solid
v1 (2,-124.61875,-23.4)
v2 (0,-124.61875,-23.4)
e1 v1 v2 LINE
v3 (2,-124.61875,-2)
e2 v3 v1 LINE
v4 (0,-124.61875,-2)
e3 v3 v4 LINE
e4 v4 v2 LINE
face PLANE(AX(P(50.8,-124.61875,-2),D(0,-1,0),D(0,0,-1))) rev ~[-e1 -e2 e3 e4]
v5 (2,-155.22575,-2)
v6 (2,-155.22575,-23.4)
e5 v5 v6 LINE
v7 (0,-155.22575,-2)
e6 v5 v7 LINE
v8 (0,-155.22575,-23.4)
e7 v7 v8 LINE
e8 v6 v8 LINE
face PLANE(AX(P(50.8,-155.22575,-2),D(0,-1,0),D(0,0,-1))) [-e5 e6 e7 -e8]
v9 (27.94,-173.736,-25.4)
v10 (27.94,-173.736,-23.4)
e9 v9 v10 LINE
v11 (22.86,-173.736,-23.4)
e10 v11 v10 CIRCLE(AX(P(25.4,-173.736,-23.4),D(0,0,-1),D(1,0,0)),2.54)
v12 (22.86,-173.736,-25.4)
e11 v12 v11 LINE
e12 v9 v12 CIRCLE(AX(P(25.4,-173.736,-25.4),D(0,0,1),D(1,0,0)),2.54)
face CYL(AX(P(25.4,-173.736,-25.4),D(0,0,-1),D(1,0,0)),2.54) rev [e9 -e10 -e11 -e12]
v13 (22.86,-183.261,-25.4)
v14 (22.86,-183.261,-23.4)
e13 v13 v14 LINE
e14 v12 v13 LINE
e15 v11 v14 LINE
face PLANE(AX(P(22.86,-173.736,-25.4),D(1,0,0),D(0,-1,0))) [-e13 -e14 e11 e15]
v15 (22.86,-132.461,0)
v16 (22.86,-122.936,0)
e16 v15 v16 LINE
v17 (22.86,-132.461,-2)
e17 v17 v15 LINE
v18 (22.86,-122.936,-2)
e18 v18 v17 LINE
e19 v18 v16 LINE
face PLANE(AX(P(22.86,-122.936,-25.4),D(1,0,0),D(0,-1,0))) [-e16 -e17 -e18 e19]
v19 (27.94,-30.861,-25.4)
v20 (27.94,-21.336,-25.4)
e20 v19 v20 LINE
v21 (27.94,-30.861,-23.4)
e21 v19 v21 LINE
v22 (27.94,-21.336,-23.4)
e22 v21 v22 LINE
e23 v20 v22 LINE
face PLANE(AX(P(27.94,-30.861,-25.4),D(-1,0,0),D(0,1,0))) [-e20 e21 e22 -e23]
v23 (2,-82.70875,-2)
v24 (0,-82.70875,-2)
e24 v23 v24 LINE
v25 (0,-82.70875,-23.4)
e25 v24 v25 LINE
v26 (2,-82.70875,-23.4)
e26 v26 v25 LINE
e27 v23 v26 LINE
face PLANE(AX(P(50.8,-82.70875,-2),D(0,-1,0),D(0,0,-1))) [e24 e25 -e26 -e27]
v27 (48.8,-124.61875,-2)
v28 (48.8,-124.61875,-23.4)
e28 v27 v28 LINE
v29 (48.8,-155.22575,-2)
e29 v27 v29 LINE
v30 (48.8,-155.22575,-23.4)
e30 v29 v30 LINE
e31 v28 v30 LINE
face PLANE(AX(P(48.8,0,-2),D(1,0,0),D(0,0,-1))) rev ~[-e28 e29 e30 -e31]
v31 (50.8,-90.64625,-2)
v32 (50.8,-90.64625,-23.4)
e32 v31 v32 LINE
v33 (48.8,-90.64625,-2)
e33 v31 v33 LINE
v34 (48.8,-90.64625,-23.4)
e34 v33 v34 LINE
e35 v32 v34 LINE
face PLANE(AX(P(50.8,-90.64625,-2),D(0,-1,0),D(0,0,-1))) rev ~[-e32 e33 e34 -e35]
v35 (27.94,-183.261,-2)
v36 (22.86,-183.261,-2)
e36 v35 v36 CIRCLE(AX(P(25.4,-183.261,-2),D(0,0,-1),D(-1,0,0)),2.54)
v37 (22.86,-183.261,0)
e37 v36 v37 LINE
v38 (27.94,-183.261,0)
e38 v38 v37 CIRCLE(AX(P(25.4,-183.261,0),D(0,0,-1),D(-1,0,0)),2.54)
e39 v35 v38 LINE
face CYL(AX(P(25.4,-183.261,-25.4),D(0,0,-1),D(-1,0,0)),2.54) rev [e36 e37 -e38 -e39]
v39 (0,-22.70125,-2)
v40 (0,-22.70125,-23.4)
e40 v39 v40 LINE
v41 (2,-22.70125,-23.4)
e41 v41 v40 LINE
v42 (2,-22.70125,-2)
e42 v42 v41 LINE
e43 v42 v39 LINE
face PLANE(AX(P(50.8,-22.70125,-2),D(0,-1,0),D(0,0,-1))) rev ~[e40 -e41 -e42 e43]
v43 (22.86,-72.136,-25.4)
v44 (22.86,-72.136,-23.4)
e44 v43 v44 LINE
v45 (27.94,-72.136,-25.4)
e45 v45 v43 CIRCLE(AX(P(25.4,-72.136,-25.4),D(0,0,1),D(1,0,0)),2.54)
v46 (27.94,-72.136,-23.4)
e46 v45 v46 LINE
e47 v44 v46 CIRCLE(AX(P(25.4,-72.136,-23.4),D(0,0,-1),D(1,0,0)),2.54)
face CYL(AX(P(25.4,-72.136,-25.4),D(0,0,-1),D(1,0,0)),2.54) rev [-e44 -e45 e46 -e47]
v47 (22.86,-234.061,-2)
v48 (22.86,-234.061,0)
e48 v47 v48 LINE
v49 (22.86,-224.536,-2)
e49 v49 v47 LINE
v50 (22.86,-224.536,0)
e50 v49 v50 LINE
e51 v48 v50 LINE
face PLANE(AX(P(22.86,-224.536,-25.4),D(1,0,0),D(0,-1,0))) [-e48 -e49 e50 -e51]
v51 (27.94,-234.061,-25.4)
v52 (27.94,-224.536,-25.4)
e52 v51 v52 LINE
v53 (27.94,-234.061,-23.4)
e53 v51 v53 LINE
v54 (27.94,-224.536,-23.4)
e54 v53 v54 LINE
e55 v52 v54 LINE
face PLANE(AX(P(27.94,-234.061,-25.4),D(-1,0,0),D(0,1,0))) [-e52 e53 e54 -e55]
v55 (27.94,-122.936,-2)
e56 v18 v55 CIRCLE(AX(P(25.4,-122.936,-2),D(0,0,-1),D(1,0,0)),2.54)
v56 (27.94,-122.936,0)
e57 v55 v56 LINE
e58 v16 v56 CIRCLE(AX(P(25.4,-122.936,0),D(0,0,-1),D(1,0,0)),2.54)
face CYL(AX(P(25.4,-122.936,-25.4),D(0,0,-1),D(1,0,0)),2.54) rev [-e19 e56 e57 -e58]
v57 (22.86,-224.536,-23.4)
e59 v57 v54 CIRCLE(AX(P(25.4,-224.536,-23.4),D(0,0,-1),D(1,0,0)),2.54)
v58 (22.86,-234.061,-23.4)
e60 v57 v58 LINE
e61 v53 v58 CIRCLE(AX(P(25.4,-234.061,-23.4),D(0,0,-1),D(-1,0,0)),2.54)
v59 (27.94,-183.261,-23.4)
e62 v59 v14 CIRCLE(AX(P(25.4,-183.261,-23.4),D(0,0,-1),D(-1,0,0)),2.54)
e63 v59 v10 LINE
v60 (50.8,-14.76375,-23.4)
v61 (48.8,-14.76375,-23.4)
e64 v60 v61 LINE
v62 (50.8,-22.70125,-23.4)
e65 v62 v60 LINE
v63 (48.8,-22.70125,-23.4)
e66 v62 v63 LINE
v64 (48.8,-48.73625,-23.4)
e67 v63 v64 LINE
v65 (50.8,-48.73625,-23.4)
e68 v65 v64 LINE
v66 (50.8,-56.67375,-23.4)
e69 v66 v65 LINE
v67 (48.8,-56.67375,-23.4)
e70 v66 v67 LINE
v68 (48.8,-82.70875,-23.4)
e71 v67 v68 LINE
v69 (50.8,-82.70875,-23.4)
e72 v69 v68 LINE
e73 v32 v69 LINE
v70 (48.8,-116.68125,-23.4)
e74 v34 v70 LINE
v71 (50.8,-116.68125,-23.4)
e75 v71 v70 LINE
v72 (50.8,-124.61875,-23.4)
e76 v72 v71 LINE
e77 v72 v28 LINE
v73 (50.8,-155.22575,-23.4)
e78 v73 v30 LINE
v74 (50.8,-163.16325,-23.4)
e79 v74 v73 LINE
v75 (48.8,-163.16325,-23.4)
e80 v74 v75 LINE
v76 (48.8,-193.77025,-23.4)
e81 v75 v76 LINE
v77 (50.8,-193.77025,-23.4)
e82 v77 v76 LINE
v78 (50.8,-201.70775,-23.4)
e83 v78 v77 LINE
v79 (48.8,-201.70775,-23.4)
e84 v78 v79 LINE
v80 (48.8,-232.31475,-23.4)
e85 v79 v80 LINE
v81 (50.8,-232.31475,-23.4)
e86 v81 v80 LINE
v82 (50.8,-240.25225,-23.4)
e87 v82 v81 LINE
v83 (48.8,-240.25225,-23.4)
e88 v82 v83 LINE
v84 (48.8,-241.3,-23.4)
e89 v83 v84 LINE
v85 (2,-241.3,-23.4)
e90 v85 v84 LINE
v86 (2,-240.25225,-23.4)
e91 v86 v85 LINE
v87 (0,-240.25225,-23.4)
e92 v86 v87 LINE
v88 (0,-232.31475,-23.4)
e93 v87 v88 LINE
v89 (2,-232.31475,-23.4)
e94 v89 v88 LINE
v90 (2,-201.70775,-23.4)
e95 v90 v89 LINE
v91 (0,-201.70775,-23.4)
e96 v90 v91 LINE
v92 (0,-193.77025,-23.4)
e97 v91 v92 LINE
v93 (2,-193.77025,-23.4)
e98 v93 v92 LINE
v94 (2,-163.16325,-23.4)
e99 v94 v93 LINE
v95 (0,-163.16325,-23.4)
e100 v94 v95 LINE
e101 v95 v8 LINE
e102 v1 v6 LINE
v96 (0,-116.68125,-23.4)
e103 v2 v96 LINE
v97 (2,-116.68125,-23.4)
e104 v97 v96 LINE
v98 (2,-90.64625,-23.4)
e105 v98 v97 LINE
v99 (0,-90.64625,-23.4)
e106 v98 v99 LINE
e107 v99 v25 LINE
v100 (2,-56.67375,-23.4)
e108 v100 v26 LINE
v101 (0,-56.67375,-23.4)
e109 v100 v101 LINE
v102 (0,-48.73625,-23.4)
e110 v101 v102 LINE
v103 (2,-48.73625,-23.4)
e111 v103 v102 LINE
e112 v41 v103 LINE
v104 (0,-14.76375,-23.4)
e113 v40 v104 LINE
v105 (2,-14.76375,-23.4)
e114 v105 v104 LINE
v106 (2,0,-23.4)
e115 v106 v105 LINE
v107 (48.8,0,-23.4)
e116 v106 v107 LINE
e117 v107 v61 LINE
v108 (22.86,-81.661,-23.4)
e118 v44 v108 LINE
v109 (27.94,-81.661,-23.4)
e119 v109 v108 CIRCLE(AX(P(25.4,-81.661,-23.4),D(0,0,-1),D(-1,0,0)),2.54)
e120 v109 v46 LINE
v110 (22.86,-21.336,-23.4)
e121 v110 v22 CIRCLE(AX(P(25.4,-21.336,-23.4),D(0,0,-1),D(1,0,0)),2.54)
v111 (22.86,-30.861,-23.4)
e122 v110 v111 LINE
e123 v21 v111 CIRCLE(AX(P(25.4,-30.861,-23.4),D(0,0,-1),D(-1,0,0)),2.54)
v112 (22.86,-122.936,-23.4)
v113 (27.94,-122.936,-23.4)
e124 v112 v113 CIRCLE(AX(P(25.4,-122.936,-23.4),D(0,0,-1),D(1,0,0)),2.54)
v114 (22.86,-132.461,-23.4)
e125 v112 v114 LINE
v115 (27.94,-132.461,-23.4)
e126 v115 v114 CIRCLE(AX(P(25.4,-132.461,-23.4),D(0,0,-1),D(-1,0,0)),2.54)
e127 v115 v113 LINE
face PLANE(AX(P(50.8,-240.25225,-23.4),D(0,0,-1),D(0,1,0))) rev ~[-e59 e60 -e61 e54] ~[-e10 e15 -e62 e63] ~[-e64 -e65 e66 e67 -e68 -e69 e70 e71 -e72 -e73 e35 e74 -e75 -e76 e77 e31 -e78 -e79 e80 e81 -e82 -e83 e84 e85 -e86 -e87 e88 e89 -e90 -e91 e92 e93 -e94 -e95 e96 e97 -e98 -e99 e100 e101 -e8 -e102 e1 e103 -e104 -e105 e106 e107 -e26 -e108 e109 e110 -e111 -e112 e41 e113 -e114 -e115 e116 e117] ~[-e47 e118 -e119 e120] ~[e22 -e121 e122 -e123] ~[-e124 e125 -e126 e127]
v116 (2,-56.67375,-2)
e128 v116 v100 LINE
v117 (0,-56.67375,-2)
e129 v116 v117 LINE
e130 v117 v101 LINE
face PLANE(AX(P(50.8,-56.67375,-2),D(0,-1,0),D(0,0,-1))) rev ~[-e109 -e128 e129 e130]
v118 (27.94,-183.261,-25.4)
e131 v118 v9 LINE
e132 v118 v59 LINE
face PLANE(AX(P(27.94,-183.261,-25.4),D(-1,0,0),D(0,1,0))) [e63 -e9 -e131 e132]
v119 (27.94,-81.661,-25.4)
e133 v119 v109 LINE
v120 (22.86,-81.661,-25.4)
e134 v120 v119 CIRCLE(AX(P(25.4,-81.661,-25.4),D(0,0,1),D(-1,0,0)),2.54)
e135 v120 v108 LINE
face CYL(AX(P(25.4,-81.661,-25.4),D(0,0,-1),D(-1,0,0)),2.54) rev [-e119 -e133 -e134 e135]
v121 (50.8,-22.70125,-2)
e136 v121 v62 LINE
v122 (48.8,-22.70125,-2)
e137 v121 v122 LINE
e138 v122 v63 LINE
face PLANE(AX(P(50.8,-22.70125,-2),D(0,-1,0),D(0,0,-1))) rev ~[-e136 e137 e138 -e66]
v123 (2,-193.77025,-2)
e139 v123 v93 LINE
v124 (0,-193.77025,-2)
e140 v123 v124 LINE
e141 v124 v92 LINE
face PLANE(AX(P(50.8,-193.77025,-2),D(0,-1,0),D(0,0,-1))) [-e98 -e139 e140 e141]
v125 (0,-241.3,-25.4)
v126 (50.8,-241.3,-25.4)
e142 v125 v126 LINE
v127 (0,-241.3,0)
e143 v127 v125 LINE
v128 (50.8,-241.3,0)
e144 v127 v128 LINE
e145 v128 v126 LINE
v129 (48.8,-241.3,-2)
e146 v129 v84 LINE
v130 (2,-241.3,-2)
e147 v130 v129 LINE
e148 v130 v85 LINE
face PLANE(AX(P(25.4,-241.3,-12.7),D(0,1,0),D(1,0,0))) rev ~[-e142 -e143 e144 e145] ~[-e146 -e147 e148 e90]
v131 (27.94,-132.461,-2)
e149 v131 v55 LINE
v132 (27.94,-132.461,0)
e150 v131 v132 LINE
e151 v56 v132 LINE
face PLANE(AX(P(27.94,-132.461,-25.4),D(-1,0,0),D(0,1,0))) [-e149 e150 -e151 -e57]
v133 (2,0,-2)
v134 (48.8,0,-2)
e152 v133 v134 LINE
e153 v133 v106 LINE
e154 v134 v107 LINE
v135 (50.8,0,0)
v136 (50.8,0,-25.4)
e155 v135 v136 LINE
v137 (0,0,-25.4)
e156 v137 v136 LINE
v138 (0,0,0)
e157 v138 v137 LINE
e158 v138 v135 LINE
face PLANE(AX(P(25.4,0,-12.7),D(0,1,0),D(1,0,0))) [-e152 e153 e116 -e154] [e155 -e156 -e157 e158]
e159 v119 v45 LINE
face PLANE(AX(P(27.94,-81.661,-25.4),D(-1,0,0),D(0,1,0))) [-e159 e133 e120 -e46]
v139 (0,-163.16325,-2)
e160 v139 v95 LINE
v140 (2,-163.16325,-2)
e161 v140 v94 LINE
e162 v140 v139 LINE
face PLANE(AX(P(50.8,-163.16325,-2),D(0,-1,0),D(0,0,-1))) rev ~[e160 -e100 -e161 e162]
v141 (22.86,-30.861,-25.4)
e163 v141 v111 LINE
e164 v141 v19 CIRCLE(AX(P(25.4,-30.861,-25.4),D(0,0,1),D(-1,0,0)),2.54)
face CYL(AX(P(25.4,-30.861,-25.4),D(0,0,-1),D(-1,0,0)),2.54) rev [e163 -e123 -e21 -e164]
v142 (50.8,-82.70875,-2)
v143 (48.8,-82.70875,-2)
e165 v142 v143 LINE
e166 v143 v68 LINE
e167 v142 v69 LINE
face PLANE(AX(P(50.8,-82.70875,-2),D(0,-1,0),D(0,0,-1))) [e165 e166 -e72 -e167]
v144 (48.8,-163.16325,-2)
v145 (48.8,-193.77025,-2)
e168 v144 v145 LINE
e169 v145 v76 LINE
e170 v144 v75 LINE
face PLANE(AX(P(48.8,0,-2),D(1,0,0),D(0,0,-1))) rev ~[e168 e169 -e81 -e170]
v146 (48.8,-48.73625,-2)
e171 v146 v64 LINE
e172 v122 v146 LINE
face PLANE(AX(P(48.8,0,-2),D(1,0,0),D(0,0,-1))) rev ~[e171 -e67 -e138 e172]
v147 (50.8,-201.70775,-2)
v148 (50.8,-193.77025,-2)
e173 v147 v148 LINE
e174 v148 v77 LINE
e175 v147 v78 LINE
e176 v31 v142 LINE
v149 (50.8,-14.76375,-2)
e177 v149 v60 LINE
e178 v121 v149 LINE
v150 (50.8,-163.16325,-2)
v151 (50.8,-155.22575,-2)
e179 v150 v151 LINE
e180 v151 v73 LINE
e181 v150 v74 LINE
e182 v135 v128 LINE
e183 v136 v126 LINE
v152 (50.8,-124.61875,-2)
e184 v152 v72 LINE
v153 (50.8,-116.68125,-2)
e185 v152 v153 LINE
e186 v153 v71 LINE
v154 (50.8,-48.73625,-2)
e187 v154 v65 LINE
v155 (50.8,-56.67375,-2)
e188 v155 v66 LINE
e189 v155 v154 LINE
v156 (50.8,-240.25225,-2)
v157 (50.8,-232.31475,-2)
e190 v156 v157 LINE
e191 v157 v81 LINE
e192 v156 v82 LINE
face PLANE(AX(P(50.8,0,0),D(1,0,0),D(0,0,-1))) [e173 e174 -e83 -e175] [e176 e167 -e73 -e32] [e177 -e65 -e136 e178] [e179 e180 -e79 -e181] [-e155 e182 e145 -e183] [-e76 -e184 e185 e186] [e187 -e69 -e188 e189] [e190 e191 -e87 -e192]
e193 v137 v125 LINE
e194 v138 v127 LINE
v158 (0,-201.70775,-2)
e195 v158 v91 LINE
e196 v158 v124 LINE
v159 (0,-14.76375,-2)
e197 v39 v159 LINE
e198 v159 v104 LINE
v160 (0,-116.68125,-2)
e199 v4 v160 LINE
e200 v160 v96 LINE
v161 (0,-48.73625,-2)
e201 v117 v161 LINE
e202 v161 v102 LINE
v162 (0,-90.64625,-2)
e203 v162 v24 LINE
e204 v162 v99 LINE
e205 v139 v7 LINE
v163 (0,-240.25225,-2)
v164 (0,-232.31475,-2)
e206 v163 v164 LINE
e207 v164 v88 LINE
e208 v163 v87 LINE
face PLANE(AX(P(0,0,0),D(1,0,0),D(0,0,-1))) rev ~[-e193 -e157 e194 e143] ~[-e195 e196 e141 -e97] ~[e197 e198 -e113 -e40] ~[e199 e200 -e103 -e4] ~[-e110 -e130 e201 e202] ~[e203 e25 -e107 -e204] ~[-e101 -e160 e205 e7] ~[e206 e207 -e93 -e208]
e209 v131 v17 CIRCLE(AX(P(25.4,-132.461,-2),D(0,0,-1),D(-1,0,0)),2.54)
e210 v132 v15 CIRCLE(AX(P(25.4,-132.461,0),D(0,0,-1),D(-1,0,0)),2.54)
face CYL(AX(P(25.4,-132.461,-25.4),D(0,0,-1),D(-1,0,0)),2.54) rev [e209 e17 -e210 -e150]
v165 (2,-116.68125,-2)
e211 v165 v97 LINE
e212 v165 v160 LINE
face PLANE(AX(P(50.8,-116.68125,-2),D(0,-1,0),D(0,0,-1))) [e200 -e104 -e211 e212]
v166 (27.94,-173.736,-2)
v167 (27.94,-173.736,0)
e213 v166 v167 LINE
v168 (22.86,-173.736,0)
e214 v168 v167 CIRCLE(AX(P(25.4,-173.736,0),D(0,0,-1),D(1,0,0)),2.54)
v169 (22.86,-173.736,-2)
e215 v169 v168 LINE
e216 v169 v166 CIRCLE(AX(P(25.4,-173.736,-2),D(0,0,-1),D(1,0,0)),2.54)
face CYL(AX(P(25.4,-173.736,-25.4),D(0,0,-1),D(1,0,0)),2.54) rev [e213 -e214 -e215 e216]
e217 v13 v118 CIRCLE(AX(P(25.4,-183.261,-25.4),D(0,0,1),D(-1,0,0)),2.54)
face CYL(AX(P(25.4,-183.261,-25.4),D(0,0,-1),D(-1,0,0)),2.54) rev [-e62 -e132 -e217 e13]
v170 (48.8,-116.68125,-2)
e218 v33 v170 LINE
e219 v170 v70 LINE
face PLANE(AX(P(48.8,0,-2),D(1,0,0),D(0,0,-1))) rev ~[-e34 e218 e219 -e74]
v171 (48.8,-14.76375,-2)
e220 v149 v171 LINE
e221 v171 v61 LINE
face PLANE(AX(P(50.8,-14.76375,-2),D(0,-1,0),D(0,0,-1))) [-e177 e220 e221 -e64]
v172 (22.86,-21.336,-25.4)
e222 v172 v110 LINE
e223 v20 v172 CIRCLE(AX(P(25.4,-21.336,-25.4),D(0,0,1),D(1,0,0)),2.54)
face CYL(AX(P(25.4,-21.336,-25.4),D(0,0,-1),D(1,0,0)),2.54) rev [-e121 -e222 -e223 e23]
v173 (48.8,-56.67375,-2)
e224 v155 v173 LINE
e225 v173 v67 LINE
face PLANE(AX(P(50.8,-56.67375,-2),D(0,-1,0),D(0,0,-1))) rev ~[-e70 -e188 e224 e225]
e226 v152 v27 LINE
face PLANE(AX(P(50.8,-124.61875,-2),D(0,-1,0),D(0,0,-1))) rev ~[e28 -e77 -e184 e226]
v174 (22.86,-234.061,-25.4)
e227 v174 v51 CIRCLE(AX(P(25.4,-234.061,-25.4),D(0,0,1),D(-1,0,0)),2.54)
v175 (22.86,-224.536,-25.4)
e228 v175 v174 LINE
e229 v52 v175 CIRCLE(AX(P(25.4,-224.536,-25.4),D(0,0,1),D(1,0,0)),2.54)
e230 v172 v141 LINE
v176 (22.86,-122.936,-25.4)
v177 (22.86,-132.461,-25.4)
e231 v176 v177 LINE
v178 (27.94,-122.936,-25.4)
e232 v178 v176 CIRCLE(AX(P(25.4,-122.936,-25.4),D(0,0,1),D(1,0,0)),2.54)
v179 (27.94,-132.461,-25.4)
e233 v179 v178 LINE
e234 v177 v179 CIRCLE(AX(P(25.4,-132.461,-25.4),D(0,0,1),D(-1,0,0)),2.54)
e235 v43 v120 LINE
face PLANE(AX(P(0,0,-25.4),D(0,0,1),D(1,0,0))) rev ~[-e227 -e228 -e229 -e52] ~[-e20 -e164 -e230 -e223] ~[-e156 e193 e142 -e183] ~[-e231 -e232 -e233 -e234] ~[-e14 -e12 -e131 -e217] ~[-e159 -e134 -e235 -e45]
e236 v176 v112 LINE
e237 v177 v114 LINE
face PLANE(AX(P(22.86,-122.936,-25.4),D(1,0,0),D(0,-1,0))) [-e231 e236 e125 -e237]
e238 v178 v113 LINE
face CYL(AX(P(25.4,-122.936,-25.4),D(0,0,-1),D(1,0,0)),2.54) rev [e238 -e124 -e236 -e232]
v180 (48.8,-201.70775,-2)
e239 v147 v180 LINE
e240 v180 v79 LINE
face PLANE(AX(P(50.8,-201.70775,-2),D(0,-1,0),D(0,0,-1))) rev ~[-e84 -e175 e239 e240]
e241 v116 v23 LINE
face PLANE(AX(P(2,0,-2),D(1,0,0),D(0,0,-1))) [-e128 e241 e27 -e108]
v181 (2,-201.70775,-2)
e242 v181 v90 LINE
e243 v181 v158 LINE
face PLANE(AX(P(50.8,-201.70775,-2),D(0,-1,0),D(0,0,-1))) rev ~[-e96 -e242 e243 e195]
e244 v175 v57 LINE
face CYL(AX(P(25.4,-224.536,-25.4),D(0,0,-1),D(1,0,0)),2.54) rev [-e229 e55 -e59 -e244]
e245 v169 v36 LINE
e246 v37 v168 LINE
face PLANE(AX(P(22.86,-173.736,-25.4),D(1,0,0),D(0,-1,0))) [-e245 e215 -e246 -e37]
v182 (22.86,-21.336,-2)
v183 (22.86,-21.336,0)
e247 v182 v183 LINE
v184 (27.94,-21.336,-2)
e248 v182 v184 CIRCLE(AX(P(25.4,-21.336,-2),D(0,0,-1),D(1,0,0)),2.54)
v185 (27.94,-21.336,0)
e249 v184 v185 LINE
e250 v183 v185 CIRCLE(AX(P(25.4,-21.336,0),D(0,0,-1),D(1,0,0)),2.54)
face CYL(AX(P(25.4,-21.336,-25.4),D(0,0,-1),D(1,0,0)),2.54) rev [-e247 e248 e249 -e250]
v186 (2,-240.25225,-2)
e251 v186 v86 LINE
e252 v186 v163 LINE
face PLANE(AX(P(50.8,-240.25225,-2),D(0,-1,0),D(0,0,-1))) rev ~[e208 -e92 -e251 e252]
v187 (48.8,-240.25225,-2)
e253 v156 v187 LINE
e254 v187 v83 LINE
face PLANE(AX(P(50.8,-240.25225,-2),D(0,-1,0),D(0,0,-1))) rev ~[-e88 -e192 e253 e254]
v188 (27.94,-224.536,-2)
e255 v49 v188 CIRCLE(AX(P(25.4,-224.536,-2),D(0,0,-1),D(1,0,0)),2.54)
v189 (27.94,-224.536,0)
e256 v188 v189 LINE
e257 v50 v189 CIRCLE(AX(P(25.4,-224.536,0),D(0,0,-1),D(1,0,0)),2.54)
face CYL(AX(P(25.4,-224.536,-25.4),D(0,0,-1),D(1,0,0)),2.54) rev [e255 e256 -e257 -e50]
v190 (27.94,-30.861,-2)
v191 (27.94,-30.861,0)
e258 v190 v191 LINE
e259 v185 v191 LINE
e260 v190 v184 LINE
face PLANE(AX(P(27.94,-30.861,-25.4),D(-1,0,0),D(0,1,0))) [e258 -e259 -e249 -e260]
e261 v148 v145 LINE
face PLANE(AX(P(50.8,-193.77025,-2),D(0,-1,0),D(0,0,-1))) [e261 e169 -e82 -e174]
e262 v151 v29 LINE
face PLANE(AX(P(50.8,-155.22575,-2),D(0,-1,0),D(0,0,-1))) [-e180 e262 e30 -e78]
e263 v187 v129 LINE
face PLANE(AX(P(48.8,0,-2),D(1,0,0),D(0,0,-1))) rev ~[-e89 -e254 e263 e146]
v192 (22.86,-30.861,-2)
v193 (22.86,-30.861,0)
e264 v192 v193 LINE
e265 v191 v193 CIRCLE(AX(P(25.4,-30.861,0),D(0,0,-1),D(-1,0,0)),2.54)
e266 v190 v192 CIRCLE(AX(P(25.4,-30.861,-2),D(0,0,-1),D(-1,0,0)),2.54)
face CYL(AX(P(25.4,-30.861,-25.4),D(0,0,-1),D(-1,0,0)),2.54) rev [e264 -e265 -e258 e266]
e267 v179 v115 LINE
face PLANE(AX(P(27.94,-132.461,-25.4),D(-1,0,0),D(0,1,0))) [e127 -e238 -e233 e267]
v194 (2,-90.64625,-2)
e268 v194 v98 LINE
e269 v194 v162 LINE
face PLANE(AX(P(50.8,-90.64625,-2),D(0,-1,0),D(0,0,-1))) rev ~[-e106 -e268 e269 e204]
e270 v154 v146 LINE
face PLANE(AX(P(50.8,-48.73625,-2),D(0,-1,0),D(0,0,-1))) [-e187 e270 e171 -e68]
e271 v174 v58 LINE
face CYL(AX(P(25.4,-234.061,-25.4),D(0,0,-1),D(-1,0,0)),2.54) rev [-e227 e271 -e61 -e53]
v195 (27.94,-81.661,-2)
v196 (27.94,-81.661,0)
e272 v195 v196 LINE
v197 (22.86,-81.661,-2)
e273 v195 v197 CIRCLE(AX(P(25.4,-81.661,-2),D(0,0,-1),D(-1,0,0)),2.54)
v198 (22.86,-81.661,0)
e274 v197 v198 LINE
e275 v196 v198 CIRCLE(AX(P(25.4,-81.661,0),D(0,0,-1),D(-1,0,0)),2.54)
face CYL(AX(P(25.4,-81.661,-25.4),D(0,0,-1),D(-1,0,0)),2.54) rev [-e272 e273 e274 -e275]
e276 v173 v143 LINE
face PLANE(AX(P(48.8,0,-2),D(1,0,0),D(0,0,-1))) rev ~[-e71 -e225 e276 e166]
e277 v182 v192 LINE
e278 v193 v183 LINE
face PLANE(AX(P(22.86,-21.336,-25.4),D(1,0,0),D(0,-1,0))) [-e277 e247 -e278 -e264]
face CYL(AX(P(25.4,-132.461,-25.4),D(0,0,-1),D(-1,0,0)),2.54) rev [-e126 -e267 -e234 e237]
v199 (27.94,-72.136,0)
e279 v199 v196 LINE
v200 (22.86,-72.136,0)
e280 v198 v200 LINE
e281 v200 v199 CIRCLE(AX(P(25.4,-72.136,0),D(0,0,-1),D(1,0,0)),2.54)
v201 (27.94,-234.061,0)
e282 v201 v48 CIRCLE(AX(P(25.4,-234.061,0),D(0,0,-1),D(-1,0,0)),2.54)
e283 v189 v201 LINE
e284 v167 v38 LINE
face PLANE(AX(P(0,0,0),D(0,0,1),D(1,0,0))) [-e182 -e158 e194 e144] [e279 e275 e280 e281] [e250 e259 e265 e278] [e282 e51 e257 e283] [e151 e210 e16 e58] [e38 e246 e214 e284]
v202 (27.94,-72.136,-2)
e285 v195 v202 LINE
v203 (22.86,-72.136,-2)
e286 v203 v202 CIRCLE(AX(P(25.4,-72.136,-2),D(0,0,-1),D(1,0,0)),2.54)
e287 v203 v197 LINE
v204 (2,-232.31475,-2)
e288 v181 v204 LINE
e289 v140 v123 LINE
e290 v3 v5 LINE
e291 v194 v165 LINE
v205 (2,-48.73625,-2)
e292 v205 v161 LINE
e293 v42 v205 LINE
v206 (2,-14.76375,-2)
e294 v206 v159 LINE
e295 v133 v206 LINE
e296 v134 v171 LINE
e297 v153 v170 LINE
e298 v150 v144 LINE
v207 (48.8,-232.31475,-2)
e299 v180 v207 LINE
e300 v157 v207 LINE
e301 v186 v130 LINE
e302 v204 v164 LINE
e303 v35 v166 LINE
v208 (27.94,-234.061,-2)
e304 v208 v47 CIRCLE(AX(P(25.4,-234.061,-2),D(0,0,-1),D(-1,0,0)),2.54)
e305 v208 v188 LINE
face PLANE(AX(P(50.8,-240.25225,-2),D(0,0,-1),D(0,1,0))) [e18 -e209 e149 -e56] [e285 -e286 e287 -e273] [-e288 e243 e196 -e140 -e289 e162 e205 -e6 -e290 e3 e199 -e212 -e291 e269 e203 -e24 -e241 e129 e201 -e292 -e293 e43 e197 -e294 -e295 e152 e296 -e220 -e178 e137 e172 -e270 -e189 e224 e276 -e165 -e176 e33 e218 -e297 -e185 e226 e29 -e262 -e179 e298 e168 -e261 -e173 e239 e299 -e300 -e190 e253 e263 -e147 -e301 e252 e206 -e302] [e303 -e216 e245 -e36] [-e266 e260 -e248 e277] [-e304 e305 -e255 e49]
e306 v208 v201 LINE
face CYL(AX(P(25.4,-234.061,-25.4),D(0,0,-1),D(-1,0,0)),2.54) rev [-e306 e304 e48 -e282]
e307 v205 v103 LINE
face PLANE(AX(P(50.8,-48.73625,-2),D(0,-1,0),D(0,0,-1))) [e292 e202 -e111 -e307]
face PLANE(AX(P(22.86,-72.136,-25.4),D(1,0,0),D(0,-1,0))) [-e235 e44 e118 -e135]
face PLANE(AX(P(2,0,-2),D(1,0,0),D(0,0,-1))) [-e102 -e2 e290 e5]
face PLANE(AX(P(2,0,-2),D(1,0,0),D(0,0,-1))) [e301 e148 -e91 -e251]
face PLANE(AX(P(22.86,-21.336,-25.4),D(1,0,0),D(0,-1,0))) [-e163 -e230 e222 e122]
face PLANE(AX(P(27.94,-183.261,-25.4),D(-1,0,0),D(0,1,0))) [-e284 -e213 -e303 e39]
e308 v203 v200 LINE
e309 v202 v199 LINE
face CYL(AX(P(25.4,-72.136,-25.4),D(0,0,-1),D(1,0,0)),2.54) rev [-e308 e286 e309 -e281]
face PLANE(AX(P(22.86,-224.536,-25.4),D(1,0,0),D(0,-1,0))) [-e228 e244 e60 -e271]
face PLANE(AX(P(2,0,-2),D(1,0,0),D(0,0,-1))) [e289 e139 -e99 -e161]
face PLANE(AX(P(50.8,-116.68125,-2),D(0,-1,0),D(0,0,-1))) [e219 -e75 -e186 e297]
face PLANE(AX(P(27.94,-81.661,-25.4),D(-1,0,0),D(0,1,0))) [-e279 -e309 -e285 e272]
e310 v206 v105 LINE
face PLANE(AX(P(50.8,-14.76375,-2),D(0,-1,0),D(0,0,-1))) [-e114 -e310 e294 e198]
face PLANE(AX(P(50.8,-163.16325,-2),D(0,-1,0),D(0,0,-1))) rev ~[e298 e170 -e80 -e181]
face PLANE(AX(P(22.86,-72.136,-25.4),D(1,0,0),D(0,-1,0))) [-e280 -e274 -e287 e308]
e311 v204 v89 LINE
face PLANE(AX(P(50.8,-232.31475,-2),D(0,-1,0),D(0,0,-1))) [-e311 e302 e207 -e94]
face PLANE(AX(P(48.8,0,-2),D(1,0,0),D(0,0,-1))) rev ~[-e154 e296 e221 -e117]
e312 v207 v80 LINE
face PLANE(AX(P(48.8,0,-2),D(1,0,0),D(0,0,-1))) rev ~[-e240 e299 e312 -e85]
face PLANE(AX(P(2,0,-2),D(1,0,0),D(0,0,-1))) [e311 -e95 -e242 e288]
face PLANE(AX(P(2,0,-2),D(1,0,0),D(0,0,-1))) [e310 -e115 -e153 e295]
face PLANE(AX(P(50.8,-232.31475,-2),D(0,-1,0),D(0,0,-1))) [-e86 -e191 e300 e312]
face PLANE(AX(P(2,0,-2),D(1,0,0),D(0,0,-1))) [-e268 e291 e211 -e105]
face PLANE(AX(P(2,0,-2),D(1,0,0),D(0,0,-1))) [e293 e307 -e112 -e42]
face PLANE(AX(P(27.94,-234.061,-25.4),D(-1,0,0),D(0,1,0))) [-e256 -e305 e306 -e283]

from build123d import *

# Parameters (mm, degrees)
SKETCH1_W           = 50.8
SKETCH1_H           = 25.4
SKETCH1_W_2         = 46.8
SKETCH1_H_2         = 21.4
BOSS_EXTRUDE1_DEPTH = 241.3
SKETCH2_W           = 21.4
SKETCH2_H           = 7.9375
CUT_EXTRUDE1_DEPTH  = 248.894110458
LPATTERN1_COUNT     = 4
LPATTERN1_PITCH     = 33.9725
LPATTERN1_COL_COUNT = 4
LPATTERN1_COL_PITCH = 38.5445
CUT_EXTRUDE2_DEPTH  = 248.894110458
LPATTERN2_COUNT     = 5
LPATTERN2_PITCH     = 50.8


with BuildPart() as part:
    # Sketch1 → Boss-Extrude1 (new body)
    with BuildSketch(Plane(origin=(0, 0, 0), x_dir=(1, 0, 0), z_dir=(0, 1, 0))):
        with Locations((25.4, 12.7)):
            Rectangle(SKETCH1_W, SKETCH1_H)
        with Locations((25.4, 12.7)):
            Rectangle(SKETCH1_W_2, SKETCH1_H_2, mode=Mode.SUBTRACT)
    extrude(amount=-BOSS_EXTRUDE1_DEPTH)

    # Sketch2 → Cut-Extrude1 (cut, through all)
    with BuildSketch(Plane(origin=(50.8, 0, 0), x_dir=(0, 0, -1), z_dir=(1, 0, 0))):
        with Locations((12.7, -120.65)):
            Rectangle(SKETCH2_W, SKETCH2_H)
    cut_extrude1 = extrude(amount=-CUT_EXTRUDE1_DEPTH, mode=Mode.SUBTRACT)

    # LPattern1: Cut-Extrude1 ×4
    with Locations(*[(0, i * LPATTERN1_PITCH, 0) for i in range(1, LPATTERN1_COUNT)]):
        add(cut_extrude1, mode=Mode.SUBTRACT)

    # LPattern1 col: Cut-Extrude1 ×4
    with Locations(*[(0, -i * LPATTERN1_COL_PITCH, 0) for i in range(1, LPATTERN1_COL_COUNT)]):
        add(cut_extrude1, mode=Mode.SUBTRACT)

    # Sketch3 → Cut-Extrude2 (cut, through all)
    with BuildSketch(Plane(origin=(0, 0, -25.4), x_dir=(-1, 0, 0), z_dir=(0, 0, -1))):
        with BuildLine():
            Line((-22.86, -21.336), (-22.86, -30.861))
            ThreePointArc((-22.86, -30.861), (-25.4, -33.401), (-27.94, -30.861))
            Line((-27.94, -30.861), (-27.94, -21.336))
            ThreePointArc((-27.94, -21.336), (-25.4, -18.796), (-22.86, -21.336))
        make_face()
    cut_extrude2 = extrude(amount=-CUT_EXTRUDE2_DEPTH, mode=Mode.SUBTRACT)

    # LPattern2: Cut-Extrude2 ×5
    with Locations(*[(0, -i * LPATTERN2_PITCH, 0) for i in range(1, LPATTERN2_COUNT)]):
        add(cut_extrude2, mode=Mode.SUBTRACT)


solid = part.part
